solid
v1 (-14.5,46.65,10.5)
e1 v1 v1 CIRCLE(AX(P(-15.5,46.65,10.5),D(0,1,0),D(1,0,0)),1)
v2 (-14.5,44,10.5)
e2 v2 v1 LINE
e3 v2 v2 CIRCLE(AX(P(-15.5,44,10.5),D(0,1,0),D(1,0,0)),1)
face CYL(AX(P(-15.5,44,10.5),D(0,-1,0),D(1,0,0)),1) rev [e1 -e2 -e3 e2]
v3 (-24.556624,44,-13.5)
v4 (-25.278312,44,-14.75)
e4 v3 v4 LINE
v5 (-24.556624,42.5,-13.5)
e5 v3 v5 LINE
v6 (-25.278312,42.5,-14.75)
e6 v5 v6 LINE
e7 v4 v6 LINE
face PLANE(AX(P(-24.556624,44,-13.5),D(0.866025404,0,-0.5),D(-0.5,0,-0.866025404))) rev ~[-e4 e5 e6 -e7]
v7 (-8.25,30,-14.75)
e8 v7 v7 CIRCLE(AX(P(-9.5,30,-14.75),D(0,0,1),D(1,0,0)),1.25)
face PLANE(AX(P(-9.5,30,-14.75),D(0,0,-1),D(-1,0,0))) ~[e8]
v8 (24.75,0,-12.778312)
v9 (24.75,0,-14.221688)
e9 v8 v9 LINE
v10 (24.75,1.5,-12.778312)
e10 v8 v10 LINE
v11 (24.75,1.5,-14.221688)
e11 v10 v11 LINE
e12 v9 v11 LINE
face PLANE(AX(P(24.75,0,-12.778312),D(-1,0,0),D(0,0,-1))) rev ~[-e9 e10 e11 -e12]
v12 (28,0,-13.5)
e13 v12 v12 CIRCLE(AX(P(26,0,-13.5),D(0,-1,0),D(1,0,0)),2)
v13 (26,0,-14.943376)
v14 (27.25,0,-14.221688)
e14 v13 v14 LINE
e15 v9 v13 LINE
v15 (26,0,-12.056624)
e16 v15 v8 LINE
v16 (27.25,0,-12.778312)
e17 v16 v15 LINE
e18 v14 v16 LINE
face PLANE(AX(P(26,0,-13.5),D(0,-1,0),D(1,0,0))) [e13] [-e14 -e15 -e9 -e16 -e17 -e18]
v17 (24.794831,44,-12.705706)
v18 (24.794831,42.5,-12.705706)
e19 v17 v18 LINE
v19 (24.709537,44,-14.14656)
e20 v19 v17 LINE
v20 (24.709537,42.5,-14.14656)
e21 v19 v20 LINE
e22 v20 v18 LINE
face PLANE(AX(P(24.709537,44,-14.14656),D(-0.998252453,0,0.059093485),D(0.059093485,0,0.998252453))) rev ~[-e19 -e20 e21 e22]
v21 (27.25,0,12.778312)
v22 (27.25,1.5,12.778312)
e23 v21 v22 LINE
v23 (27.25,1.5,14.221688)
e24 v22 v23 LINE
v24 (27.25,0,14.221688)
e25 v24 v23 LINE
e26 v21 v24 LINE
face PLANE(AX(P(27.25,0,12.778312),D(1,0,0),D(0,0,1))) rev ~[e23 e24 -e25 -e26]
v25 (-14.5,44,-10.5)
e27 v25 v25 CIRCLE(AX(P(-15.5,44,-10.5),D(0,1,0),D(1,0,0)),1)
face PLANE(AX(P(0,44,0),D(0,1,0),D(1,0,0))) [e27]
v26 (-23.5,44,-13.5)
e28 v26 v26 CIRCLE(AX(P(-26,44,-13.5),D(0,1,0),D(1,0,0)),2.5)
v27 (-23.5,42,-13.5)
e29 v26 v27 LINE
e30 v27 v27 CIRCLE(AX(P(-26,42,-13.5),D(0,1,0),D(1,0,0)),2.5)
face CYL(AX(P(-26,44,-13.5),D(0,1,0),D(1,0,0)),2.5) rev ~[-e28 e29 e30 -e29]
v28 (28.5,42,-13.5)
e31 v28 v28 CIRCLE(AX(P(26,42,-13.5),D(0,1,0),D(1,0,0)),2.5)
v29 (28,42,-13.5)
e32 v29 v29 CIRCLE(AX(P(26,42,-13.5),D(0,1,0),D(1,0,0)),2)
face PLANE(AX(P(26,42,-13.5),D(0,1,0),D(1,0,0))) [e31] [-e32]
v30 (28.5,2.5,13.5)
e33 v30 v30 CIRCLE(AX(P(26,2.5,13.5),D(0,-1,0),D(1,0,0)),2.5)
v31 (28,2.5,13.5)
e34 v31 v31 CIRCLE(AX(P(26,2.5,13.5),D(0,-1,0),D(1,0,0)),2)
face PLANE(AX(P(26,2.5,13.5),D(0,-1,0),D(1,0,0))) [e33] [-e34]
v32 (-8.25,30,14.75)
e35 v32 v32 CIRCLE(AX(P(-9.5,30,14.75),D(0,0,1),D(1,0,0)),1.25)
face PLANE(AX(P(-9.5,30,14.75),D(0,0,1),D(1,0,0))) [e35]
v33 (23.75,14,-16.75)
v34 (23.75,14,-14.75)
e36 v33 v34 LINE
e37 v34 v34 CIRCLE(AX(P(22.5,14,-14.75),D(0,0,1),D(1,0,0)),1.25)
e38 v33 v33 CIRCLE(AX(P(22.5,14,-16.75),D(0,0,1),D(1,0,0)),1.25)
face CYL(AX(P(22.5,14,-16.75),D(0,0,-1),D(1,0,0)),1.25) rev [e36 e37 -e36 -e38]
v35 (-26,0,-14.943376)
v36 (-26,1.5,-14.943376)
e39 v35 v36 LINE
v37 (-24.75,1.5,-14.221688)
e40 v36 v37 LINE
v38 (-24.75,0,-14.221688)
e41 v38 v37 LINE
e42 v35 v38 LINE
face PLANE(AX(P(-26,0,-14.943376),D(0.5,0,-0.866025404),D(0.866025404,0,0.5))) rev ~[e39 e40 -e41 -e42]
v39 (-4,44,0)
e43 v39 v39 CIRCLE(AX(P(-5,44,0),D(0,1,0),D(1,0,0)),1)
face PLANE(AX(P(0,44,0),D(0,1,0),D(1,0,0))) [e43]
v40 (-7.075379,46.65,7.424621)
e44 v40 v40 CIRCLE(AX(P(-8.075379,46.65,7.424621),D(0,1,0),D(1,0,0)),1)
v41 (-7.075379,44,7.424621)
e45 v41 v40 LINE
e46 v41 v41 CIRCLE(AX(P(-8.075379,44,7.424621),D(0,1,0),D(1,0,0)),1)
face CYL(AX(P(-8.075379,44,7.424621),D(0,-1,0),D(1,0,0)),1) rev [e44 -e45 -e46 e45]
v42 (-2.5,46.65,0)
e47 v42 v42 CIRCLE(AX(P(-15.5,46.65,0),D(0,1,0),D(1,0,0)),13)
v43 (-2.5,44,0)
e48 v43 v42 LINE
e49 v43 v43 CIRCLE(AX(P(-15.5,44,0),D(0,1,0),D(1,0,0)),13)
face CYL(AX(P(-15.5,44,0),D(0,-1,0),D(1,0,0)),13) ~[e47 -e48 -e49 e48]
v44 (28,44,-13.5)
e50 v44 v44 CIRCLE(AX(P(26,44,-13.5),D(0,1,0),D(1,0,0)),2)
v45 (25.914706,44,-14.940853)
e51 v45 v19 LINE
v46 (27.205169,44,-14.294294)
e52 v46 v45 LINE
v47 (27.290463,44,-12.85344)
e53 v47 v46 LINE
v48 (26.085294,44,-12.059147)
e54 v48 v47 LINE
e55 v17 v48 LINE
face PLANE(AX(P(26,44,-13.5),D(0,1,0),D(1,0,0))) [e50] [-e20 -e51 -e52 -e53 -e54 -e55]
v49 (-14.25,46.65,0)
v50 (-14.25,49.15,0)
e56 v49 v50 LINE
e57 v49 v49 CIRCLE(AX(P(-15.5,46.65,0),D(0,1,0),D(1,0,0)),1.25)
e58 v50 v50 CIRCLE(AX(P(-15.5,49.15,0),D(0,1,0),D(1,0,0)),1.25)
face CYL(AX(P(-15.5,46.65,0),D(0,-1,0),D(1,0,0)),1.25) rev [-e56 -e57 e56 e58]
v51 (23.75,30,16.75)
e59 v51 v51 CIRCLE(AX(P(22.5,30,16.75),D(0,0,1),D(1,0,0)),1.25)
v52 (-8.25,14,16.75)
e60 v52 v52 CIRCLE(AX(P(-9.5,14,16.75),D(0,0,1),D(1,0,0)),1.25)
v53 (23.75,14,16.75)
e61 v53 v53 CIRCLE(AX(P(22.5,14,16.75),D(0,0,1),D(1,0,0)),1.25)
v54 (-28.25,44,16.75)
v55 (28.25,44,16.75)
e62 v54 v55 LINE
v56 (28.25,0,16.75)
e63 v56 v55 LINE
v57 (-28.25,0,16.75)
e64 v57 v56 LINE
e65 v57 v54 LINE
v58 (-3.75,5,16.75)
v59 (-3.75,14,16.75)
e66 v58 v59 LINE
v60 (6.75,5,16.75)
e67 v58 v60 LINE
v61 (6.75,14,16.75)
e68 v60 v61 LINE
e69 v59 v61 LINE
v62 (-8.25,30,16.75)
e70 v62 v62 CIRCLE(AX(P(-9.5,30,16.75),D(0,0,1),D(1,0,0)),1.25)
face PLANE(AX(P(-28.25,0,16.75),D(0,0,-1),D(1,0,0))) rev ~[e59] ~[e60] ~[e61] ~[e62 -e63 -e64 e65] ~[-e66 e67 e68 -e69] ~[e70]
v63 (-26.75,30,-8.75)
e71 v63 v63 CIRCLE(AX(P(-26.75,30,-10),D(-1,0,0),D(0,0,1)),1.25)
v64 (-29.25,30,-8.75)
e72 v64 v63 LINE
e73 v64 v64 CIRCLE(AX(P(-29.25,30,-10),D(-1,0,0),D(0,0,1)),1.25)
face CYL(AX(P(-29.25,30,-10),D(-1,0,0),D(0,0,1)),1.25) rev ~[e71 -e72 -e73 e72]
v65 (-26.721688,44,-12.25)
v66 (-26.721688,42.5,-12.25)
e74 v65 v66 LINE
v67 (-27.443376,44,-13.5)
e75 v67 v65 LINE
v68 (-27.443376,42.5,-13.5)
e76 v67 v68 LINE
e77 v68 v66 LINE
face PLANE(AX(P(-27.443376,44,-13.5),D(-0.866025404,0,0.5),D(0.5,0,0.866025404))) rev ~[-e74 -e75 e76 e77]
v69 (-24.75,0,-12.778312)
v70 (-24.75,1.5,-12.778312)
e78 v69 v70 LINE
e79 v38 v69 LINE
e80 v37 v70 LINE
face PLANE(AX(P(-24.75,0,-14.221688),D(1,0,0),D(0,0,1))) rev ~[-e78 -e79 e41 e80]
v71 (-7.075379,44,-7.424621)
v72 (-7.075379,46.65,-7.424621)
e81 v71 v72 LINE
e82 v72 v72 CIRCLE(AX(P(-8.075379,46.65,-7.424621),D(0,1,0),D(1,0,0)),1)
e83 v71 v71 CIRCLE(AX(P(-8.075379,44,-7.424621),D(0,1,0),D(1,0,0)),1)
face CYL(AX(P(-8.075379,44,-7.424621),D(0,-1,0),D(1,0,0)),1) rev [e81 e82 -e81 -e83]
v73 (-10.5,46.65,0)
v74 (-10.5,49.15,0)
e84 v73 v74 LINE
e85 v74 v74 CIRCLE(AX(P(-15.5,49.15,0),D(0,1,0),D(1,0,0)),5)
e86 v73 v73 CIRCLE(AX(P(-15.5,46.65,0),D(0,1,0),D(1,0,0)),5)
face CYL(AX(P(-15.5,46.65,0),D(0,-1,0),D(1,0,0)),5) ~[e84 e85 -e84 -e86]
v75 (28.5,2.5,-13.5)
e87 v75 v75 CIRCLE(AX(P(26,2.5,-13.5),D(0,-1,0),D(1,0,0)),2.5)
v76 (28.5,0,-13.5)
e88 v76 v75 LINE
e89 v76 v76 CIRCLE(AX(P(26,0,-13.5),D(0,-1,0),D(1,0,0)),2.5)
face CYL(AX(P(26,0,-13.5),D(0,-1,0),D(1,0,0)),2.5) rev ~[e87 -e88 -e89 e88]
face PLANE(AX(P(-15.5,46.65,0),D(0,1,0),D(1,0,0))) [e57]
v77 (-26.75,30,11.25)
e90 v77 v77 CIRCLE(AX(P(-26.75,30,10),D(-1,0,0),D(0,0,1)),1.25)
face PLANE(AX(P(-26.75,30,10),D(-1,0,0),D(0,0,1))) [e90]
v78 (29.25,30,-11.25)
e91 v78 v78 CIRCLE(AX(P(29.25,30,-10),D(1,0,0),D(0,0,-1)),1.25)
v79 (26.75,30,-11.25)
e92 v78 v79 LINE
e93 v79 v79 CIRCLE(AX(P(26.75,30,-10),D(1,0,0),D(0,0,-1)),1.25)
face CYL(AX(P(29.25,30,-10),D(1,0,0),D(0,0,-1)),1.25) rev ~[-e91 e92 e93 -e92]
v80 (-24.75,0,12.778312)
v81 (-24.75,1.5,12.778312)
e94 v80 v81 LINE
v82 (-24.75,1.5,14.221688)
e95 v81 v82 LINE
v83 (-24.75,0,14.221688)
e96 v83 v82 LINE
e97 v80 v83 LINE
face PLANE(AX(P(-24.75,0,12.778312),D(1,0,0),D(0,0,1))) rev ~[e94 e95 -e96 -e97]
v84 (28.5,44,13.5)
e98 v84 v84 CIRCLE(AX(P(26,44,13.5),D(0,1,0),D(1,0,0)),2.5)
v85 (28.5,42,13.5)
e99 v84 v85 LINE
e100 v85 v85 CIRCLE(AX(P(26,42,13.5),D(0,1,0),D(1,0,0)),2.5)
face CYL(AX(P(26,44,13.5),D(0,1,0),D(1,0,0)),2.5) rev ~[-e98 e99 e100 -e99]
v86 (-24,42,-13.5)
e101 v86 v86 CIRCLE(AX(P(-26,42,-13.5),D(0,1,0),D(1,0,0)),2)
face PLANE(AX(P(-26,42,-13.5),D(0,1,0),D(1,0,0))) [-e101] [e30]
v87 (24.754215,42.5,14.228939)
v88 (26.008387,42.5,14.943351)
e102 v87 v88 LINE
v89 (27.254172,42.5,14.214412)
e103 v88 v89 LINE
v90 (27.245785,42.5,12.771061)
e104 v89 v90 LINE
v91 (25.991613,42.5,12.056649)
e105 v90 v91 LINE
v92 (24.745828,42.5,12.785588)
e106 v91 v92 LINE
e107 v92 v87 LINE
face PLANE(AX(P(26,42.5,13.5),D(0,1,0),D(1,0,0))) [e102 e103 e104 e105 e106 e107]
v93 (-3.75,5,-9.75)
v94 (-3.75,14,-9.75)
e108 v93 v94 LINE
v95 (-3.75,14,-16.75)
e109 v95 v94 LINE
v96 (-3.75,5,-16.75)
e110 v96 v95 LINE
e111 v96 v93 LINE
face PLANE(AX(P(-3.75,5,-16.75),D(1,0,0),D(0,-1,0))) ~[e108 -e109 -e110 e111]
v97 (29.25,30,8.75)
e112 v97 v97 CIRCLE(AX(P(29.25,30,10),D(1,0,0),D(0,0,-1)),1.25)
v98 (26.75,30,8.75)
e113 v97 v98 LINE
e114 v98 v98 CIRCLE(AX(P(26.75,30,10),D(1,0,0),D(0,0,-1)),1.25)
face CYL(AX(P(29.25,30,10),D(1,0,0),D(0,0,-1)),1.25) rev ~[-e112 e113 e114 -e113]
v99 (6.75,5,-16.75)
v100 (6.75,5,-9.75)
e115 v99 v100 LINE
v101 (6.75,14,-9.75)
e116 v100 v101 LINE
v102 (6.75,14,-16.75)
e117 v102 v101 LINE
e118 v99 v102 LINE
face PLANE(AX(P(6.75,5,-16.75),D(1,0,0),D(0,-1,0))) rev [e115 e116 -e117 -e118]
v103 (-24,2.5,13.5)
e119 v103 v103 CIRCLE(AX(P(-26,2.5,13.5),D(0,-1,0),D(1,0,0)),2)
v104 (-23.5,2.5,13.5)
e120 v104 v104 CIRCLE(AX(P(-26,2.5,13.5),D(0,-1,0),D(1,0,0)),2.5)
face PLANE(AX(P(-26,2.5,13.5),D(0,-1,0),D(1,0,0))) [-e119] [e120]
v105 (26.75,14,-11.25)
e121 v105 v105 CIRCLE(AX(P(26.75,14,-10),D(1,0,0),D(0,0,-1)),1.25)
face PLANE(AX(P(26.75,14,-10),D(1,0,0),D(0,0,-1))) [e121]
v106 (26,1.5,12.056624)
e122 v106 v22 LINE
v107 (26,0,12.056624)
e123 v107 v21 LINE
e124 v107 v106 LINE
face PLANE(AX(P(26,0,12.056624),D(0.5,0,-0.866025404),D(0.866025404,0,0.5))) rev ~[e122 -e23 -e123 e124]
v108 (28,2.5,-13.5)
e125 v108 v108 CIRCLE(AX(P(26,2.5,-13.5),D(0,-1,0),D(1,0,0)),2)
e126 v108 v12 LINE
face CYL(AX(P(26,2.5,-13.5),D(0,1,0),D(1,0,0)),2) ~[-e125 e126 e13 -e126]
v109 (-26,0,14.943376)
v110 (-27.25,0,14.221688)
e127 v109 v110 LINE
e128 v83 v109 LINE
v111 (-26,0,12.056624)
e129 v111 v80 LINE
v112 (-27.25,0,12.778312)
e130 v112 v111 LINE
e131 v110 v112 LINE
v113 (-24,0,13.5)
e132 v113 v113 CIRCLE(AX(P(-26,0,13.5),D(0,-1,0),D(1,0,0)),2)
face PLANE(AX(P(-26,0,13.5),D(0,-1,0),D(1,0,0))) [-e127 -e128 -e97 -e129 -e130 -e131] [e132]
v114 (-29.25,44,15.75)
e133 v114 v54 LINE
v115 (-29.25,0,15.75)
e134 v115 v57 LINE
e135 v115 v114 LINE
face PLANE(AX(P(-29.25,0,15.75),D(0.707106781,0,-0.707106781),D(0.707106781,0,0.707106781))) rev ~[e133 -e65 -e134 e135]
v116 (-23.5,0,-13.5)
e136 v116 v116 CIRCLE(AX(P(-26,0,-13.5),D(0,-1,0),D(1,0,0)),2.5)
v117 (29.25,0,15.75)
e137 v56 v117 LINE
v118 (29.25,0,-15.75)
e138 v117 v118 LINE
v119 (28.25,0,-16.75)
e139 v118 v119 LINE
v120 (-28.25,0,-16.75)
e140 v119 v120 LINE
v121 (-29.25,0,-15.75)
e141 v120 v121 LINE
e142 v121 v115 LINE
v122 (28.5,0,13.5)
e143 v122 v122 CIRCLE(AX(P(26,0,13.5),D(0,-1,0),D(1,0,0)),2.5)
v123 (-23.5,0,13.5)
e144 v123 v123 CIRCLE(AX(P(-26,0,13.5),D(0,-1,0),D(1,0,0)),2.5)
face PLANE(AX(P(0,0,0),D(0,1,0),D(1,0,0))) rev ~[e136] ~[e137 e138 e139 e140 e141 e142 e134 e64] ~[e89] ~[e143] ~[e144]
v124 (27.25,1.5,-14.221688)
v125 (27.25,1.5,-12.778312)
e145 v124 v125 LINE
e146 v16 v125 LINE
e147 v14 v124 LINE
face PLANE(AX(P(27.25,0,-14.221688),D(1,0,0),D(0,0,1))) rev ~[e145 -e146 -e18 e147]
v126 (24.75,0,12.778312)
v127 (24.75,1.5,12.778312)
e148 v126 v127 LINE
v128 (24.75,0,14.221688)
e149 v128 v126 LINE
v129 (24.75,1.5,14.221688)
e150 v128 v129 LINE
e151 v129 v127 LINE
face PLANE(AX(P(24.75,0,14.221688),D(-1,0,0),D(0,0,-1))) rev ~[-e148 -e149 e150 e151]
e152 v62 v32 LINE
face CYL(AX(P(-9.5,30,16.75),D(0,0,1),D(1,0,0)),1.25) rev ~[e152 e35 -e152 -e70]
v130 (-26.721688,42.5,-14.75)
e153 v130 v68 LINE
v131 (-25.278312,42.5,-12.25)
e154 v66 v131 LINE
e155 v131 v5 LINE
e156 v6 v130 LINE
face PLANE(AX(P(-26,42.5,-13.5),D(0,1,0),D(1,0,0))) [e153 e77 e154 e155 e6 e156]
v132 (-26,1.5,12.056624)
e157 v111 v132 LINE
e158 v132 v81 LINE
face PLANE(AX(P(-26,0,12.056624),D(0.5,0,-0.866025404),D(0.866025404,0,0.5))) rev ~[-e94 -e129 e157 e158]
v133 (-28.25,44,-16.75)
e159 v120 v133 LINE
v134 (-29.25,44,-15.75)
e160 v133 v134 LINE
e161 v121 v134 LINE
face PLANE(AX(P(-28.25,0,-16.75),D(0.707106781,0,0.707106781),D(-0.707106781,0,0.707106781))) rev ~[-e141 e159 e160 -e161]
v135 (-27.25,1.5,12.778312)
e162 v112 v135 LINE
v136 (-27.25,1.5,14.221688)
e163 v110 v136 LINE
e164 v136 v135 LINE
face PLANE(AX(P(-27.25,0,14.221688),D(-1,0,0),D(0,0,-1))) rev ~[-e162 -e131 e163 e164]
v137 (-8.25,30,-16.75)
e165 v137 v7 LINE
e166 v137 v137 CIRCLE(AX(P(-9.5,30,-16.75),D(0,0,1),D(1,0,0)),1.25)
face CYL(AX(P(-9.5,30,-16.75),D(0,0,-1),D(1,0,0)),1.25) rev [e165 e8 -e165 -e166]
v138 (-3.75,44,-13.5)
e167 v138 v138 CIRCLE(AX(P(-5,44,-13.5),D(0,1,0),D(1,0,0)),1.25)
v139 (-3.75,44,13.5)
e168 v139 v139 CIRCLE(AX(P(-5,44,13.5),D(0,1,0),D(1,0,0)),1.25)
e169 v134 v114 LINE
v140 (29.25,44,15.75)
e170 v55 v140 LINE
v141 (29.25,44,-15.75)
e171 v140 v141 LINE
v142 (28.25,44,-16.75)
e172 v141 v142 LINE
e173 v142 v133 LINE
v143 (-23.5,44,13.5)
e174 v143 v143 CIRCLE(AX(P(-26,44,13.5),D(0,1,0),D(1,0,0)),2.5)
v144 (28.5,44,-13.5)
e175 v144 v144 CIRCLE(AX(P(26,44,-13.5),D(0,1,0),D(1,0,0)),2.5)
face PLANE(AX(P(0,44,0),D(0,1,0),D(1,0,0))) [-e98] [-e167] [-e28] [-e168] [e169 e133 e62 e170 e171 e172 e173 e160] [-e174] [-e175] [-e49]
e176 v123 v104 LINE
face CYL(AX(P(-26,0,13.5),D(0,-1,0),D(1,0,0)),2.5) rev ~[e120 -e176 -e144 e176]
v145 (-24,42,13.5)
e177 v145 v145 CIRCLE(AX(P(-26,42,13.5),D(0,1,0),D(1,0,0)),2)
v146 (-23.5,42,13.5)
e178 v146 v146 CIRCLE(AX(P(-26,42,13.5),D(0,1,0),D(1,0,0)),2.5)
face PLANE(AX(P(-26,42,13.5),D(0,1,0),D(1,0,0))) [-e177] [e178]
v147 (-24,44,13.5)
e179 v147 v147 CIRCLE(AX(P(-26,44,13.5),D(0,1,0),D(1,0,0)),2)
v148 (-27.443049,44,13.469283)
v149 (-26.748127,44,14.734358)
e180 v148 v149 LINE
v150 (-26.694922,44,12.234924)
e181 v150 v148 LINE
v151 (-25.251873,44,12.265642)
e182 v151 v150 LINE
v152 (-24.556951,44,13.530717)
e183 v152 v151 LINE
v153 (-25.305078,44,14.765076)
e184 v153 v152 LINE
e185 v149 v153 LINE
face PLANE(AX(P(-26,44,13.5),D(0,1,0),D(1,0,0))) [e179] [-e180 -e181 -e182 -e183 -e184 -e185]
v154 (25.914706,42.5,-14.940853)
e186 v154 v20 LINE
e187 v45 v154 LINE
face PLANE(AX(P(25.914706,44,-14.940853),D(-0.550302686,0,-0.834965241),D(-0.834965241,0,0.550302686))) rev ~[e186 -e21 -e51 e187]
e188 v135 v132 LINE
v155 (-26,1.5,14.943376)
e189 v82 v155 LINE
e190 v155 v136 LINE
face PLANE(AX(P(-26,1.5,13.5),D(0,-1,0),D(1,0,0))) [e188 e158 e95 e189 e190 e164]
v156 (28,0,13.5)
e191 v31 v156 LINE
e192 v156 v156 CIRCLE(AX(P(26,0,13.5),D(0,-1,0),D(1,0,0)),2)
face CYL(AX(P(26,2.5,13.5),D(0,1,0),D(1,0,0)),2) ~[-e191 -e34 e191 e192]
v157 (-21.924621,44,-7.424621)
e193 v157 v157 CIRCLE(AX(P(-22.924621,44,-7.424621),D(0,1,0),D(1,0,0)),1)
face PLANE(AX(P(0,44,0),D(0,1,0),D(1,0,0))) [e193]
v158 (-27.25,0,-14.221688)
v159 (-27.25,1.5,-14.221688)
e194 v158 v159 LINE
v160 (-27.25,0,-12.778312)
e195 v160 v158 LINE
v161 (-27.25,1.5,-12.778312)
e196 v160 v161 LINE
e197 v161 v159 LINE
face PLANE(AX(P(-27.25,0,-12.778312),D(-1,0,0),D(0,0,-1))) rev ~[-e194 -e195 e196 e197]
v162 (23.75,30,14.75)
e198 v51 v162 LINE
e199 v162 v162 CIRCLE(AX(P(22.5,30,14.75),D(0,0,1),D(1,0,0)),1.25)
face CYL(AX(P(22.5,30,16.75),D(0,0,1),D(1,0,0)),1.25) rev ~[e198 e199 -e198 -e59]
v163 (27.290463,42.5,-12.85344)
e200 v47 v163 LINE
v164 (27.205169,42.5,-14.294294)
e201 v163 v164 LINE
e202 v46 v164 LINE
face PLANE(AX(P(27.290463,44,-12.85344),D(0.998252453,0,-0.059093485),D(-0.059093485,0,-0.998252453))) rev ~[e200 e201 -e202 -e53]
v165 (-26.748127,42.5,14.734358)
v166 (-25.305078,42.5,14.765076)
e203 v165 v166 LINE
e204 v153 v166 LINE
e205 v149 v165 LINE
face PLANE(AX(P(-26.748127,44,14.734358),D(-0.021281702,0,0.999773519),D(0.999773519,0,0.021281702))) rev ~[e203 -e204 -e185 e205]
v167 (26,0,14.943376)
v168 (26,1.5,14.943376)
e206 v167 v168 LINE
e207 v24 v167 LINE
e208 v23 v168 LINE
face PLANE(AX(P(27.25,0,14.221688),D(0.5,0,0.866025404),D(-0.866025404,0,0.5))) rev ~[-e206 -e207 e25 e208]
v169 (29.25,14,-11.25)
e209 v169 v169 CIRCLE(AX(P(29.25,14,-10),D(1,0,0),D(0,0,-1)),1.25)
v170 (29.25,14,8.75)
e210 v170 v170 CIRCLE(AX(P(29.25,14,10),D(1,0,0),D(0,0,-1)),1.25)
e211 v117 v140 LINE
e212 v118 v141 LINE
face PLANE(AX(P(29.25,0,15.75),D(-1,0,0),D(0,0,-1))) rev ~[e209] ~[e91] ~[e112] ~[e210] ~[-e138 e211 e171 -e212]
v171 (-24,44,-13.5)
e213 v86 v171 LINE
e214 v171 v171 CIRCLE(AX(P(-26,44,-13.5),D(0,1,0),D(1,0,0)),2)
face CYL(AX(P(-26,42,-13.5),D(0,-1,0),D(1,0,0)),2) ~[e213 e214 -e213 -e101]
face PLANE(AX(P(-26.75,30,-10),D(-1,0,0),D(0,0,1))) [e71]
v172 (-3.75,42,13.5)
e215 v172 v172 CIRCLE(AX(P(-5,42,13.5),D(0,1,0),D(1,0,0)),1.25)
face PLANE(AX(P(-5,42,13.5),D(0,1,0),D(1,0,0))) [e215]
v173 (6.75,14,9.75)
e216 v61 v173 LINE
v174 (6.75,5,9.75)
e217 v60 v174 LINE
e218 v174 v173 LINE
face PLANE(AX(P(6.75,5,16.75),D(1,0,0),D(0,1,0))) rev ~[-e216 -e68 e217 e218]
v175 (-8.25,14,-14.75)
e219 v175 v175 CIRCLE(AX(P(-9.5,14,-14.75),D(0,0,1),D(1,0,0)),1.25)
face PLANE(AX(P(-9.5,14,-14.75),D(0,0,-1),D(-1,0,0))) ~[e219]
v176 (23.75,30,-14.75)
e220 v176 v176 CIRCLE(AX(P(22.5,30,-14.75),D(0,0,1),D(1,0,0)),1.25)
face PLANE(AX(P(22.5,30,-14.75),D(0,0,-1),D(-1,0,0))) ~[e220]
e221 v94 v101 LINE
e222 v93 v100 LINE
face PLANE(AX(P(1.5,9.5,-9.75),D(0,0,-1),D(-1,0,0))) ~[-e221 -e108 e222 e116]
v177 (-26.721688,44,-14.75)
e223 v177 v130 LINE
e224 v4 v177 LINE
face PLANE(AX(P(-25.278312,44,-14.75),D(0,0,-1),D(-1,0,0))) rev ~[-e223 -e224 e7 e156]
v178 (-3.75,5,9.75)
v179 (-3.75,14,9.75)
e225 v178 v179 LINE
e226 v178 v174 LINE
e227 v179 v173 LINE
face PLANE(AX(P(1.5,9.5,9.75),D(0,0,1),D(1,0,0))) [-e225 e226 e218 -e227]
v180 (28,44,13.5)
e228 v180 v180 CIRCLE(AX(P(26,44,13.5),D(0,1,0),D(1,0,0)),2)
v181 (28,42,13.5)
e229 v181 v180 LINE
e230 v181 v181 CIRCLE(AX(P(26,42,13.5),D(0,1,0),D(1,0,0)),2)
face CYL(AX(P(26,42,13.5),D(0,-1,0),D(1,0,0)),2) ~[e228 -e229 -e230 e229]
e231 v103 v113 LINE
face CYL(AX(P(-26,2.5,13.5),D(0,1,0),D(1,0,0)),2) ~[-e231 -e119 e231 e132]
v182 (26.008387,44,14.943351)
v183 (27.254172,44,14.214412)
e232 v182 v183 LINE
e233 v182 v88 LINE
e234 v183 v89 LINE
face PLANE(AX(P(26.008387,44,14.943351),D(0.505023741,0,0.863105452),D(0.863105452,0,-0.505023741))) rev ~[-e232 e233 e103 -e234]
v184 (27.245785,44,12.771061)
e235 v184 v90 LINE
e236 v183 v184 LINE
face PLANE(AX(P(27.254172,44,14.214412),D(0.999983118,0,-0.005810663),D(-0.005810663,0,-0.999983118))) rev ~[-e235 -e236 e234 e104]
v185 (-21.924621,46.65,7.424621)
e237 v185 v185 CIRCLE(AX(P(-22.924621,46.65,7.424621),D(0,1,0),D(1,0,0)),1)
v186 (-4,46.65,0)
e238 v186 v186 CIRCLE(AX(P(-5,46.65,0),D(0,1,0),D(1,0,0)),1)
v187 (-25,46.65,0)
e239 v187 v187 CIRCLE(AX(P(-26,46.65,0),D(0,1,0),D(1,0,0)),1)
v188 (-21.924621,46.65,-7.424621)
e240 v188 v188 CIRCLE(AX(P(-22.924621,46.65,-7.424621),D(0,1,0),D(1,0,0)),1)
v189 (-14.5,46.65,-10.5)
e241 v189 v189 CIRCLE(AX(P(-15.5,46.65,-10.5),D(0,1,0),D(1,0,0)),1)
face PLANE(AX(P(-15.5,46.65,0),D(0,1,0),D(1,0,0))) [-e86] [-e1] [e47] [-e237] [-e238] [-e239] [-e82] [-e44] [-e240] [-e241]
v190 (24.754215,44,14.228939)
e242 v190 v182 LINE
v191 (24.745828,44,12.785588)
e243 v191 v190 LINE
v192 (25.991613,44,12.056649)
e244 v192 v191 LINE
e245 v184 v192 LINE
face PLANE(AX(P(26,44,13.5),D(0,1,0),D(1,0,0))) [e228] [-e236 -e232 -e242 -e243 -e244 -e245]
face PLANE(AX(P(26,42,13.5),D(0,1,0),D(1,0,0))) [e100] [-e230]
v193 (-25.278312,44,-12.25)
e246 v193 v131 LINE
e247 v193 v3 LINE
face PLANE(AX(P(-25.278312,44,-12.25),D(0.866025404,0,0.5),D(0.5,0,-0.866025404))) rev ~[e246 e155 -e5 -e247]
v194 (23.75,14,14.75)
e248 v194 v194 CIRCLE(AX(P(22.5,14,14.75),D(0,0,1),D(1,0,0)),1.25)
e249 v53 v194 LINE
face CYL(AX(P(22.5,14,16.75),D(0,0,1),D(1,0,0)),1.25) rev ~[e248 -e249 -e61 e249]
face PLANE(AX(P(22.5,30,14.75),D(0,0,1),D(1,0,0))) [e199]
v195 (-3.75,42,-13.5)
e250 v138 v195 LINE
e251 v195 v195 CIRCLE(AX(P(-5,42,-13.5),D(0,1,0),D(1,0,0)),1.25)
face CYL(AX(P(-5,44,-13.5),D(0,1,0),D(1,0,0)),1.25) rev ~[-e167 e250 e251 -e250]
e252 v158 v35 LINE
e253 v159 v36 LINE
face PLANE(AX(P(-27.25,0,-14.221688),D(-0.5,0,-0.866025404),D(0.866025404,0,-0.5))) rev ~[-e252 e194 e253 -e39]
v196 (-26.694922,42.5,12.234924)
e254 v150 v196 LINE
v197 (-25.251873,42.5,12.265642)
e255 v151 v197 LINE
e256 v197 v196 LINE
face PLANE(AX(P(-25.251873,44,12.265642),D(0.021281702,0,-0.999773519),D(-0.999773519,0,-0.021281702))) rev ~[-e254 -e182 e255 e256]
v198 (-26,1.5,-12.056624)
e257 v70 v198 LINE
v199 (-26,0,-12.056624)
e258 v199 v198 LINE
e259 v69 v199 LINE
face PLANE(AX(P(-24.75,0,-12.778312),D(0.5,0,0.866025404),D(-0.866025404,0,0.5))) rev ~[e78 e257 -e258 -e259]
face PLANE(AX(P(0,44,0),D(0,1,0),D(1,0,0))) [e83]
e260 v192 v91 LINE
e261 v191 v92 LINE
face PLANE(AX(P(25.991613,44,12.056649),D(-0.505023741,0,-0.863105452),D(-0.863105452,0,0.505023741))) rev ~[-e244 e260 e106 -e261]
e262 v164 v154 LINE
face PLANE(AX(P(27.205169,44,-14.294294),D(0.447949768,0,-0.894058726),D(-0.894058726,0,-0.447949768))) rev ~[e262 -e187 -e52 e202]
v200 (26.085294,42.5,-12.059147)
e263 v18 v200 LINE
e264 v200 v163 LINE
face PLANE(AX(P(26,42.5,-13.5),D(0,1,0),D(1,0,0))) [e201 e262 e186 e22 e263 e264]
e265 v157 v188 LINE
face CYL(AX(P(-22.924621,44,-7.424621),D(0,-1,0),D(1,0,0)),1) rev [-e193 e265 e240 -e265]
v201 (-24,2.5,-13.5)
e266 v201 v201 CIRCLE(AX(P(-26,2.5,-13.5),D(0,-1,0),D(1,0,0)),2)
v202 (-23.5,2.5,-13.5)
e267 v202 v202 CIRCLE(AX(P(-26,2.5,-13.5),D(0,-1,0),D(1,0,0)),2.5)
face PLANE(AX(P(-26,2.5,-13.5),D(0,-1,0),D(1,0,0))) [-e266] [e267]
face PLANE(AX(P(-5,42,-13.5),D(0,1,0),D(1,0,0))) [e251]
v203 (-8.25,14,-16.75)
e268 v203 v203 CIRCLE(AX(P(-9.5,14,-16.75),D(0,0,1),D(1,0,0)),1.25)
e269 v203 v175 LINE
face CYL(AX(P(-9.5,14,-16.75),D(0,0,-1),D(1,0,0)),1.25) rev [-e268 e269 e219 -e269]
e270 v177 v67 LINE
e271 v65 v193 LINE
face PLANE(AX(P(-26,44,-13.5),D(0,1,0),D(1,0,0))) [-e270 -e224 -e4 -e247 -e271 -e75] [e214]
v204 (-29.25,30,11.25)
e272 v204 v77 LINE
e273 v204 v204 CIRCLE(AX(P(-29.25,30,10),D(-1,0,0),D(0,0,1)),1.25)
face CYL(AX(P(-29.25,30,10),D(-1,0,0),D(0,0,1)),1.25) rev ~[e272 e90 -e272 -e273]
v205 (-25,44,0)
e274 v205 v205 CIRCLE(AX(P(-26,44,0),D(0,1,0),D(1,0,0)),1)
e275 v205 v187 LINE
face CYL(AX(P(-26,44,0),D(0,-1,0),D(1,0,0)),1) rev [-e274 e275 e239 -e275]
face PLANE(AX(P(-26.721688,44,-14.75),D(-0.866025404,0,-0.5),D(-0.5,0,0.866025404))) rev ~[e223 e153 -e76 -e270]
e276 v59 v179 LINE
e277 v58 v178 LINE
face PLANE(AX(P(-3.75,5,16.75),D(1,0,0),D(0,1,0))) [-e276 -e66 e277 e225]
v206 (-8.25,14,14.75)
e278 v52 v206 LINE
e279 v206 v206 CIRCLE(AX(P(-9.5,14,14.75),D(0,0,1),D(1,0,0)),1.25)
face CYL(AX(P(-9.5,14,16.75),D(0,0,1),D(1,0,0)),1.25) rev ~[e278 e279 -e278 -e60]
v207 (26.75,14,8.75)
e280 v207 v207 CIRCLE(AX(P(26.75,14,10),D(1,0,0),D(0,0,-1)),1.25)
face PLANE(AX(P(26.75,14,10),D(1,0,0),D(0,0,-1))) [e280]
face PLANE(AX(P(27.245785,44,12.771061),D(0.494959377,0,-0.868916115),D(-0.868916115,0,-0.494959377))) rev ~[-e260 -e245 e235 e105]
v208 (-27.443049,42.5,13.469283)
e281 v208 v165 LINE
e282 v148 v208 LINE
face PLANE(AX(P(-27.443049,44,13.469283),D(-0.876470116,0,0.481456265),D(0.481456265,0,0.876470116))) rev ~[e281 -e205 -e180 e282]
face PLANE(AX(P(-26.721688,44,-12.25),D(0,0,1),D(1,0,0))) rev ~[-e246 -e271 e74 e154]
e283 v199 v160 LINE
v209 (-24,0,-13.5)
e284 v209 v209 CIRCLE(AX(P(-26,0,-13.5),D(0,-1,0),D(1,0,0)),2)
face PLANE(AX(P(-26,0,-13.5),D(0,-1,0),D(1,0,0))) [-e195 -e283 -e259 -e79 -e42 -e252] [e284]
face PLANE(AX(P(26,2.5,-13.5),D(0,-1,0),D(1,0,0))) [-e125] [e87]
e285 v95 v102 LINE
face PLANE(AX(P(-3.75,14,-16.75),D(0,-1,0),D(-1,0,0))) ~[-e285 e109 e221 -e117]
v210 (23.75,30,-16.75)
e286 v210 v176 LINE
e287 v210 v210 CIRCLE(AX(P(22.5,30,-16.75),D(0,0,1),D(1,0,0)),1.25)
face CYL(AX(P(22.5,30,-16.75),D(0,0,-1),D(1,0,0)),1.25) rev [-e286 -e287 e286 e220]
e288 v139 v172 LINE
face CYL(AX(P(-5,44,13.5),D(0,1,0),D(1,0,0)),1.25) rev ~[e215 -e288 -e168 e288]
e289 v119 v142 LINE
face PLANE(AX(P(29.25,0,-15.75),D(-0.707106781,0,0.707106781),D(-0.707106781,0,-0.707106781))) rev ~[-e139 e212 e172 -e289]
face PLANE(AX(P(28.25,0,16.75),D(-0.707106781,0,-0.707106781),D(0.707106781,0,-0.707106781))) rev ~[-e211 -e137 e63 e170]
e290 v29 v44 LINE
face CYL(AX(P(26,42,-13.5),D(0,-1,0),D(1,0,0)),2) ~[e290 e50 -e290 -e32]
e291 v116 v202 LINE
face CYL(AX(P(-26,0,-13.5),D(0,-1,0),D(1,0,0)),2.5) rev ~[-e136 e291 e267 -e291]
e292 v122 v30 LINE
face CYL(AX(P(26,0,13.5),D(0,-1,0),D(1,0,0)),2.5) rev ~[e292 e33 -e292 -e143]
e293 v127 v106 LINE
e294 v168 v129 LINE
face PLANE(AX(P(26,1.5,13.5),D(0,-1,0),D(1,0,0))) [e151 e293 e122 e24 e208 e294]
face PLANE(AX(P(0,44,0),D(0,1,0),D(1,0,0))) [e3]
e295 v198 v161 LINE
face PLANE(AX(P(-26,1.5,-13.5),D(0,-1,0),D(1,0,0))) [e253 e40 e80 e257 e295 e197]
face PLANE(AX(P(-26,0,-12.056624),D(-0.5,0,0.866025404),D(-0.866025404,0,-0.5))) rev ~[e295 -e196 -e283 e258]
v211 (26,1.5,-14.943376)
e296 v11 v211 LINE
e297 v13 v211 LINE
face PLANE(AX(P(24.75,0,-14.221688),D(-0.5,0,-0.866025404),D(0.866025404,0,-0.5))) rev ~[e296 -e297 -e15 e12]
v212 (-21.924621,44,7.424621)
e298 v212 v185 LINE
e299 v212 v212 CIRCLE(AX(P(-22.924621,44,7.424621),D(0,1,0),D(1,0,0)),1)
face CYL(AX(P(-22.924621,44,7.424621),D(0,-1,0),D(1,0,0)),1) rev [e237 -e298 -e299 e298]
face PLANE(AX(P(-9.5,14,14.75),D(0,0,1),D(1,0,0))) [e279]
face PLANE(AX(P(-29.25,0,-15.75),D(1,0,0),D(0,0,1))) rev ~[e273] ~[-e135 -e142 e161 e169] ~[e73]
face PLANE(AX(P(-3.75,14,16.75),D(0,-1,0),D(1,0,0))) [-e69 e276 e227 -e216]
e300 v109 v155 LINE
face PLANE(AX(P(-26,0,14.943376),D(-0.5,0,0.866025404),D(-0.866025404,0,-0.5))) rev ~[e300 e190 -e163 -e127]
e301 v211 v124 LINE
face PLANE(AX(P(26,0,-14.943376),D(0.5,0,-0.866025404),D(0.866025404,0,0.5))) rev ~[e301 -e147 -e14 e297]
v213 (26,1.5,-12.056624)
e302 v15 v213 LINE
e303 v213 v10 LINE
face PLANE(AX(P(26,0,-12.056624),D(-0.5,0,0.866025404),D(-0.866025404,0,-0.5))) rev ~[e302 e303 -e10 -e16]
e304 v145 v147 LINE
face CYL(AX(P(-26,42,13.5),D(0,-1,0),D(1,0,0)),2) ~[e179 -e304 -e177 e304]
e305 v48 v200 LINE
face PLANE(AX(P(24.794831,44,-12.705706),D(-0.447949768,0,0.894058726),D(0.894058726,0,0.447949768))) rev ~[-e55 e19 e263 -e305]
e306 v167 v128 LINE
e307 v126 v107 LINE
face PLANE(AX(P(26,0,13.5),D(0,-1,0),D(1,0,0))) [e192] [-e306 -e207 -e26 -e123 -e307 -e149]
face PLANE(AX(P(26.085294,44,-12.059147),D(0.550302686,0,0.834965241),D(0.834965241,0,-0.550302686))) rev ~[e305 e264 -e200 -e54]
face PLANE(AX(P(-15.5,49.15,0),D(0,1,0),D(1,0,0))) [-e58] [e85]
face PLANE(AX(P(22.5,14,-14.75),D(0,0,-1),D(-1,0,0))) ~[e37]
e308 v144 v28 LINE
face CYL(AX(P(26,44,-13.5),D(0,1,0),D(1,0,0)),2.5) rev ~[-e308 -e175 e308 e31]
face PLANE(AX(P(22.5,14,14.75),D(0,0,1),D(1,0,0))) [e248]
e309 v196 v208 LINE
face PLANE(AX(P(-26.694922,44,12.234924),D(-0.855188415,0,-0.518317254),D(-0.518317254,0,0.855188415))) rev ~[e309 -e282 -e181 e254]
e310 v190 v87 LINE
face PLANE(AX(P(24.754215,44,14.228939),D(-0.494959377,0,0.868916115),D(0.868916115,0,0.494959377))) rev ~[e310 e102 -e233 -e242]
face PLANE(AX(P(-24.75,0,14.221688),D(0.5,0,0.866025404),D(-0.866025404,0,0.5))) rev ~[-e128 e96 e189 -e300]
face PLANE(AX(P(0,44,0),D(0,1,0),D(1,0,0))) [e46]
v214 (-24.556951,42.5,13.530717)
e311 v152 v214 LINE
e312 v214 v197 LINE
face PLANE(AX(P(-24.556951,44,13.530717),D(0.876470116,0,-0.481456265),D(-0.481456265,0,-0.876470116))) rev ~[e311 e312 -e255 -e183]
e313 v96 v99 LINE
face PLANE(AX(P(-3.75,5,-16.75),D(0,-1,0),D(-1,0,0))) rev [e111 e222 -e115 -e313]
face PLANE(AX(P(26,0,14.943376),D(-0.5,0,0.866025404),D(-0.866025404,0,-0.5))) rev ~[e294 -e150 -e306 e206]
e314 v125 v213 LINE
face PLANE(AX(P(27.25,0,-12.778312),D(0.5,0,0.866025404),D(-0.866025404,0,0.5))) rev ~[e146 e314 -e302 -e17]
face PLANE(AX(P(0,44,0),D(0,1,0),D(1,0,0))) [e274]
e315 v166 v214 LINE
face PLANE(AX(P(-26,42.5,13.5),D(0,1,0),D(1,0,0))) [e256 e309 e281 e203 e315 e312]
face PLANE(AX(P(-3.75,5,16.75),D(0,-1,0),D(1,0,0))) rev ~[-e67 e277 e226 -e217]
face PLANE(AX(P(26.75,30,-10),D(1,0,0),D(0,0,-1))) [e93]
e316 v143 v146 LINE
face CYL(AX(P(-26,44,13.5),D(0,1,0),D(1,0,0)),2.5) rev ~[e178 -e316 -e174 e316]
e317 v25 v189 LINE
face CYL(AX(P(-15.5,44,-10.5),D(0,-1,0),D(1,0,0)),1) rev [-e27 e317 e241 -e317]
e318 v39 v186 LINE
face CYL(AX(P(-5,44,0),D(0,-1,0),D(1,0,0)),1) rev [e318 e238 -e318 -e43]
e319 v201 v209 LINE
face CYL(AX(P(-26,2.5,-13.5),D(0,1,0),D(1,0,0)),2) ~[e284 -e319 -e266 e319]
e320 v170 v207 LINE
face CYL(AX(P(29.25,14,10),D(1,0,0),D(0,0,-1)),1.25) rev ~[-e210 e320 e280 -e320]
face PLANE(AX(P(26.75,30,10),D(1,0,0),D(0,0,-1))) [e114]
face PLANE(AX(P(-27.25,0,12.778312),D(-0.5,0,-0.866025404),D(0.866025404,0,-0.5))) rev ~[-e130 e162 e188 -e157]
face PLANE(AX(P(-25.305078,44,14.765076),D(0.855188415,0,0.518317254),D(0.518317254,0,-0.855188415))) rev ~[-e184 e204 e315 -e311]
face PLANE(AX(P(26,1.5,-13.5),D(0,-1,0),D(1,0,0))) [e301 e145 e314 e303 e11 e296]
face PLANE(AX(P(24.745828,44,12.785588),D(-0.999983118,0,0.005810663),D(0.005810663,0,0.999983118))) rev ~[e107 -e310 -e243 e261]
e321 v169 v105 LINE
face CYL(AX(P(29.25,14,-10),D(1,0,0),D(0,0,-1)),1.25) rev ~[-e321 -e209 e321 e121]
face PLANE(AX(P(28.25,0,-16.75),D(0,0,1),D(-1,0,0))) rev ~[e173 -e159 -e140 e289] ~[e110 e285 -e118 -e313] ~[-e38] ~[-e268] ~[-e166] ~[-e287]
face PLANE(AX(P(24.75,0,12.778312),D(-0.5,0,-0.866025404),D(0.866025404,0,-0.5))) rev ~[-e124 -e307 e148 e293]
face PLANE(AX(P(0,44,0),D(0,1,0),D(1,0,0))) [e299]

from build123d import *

# Parameters (mm, degrees)
BOSS_EXTRUDE1_DEPTH = 44
SKETCH2_R           = 13
SKETCH2_R_2         = 1
BOSS_EXTRUDE2_DEPTH = 2.65
SKETCH3_R           = 5
SKETCH3_R_2         = 1.25
BOSS_EXTRUDE3_DEPTH = 2.5
SKETCH4_R           = 2.5
SKETCH4_R_2         = 1.25
CUT_EXTRUDE1_DEPTH  = 2
SKETCH5_R           = 1.25
CUT_EXTRUDE2_DEPTH  = 2
SKETCH6_R           = 13
SKETCH6_R_2         = 1.25
BOSS_EXTRUDE4_DEPTH = 2.5
SKETCH7_R           = 2.5
CUT_EXTRUDE3_DEPTH  = 2.5
SKETCH8_R           = 1.25
CUT_EXTRUDE4_DEPTH  = 2.5
SKETCH9_R           = 1.25
CUT_EXTRUDE5_DEPTH  = 2.5
SKETCH10_W          = 10.5
SKETCH10_H          = 9
CUT_EXTRUDE6_DEPTH  = 7
SKETCH11_R          = 13
CUT_EXTRUDE7_DEPTH  = 2.5
SKETCH13_R          = 2
BOSS_EXTRUDE5_DEPTH = 2
CUT_EXTRUDE8_DEPTH  = 1.5
SKETCH15_R          = 2
BOSS_EXTRUDE6_DEPTH = 2.5
CUT_EXTRUDE9_DEPTH  = 1.5


with BuildPart() as part:
    # Sketch1 → Boss-Extrude1 (new body)
    with BuildSketch(Plane(origin=(0, 0, 0), x_dir=(1, 0, 0), z_dir=(0, 1, 0))):
        Polygon((-29.25, -15.75), (-28.25, -16.75), (28.25, -16.75), (29.25, -15.75), (29.25, 15.75), (28.25, 16.75), (-28.25, 16.75), (-29.25, 15.75), align=None)
    extrude(amount=BOSS_EXTRUDE1_DEPTH)

    # Sketch2 → Boss-Extrude2 (add)
    with BuildSketch(Plane(origin=(0, 44, 0), x_dir=(1, 0, 0), z_dir=(0, 1, 0))):
        with Locations((-15.5, 0)):
            Circle(SKETCH2_R)
        with Locations((-15.5, 10.5)):
            Circle(SKETCH2_R_2, mode=Mode.SUBTRACT)
        with Locations((-8.075378798, 7.424621202)):
            Circle(SKETCH2_R_2, mode=Mode.SUBTRACT)
        with Locations((-5, 0)):
            Circle(SKETCH2_R_2, mode=Mode.SUBTRACT)
        with Locations((-8.075378798, -7.424621202)):
            Circle(SKETCH2_R_2, mode=Mode.SUBTRACT)
        with Locations((-15.5, -10.5)):
            Circle(SKETCH2_R_2, mode=Mode.SUBTRACT)
        with Locations((-22.924621202, -7.424621202)):
            Circle(SKETCH2_R_2, mode=Mode.SUBTRACT)
        with Locations((-26, 0)):
            Circle(SKETCH2_R_2, mode=Mode.SUBTRACT)
        with Locations((-22.924621202, 7.424621202)):
            Circle(SKETCH2_R_2, mode=Mode.SUBTRACT)
    extrude(amount=BOSS_EXTRUDE2_DEPTH)

    # Sketch3 → Boss-Extrude3 (add)
    with BuildSketch(Plane(origin=(0, 46.65, 0), x_dir=(1, 0, 0), z_dir=(0, 1, 0))):
        with Locations((-15.5, 0)):
            Circle(SKETCH3_R)
        with Locations((-15.5, 0)):
            Circle(SKETCH3_R_2, mode=Mode.SUBTRACT)
    extrude(amount=BOSS_EXTRUDE3_DEPTH)

    # Sketch4 → Cut-Extrude1 (cut)
    with BuildSketch(Plane(origin=(0, 44, 0), x_dir=(1, 0, 0), z_dir=(0, 1, 0))):
        with Locations((-26, 13.5)):
            Circle(SKETCH4_R)
        with Locations((-26, -13.5)):
            Circle(SKETCH4_R)
        with Locations((26, -13.5)):
            Circle(SKETCH4_R)
        with Locations((26, 13.5)):
            Circle(SKETCH4_R)
        with Locations((-5, 13.5)):
            Circle(SKETCH4_R_2)
        with Locations((-5, -13.5)):
            Circle(SKETCH4_R_2)
    extrude(amount=-CUT_EXTRUDE1_DEPTH, mode=Mode.SUBTRACT)

    # Sketch5 → Cut-Extrude2 (cut)
    with BuildSketch(Plane.XY.offset(16.75)):
        with Locations((-9.5, 30)):
            Circle(SKETCH5_R)
        with Locations((-9.5, 14)):
            Circle(SKETCH5_R)
        with Locations((22.5, 30)):
            Circle(SKETCH5_R)
        with Locations((22.5, 14)):
            Circle(SKETCH5_R)
    cut_extrude2 = extrude(amount=-CUT_EXTRUDE2_DEPTH, mode=Mode.SUBTRACT)

    # Sketch6 → Boss-Extrude4 (add)
    with BuildSketch(Plane.XZ):
        with Locations((-15.5, 0)):
            Circle(SKETCH6_R)
        with Locations((-5, 0)):
            Circle(SKETCH6_R_2, mode=Mode.SUBTRACT)
        with Locations((-8.075378798, -7.424621202)):
            Circle(SKETCH6_R_2, mode=Mode.SUBTRACT)
        with Locations((-15.5, -10.5)):
            Circle(SKETCH6_R_2, mode=Mode.SUBTRACT)
        with Locations((-22.924621202, -7.424621202)):
            Circle(SKETCH6_R_2, mode=Mode.SUBTRACT)
        with Locations((-26, 0)):
            Circle(SKETCH6_R_2, mode=Mode.SUBTRACT)
        with Locations((-22.924621202, 7.424621202)):
            Circle(SKETCH6_R_2, mode=Mode.SUBTRACT)
        with Locations((-15.5, 10.5)):
            Circle(SKETCH6_R_2, mode=Mode.SUBTRACT)
        with Locations((-8.075378798, 7.424621202)):
            Circle(SKETCH6_R_2, mode=Mode.SUBTRACT)
    extrude(amount=BOSS_EXTRUDE4_DEPTH)

    # Sketch7 → Cut-Extrude3 (cut)
    with BuildSketch(Plane.XZ):
        with Locations((-26, 13.5)):
            Circle(SKETCH7_R)
        with Locations((-26, -13.5)):
            Circle(SKETCH7_R)
        with Locations((26, -13.5)):
            Circle(SKETCH7_R)
        with Locations((26, 13.5)):
            Circle(SKETCH7_R)
    extrude(amount=-CUT_EXTRUDE3_DEPTH, mode=Mode.SUBTRACT)

    # Sketch8 → Cut-Extrude4 (cut)
    with BuildSketch(Plane(origin=(29.25, 0, 0), x_dir=(0, 0, -1), z_dir=(1, 0, 0))):
        with Locations((-10, 14)):
            Circle(SKETCH8_R)
        with Locations((10, 14)):
            Circle(SKETCH8_R)
        with Locations((10, 30)):
            Circle(SKETCH8_R)
        with Locations((-10, 30)):
            Circle(SKETCH8_R)
    extrude(amount=-CUT_EXTRUDE4_DEPTH, mode=Mode.SUBTRACT)

    # Sketch9 → Cut-Extrude5 (cut)
    with BuildSketch(Plane.ZY.offset(29.25)):
        with Locations((-10, 30)):
            Circle(SKETCH9_R)
        with Locations((10, 30)):
            Circle(SKETCH9_R)
    extrude(amount=-CUT_EXTRUDE5_DEPTH, mode=Mode.SUBTRACT)

    # Sketch10 → Cut-Extrude6 (cut)
    with BuildSketch(Plane.XY.offset(16.75)):
        with Locations((1.5, 9.5)):
            Rectangle(SKETCH10_W, SKETCH10_H)
    cut_extrude6 = extrude(amount=-CUT_EXTRUDE6_DEPTH, mode=Mode.SUBTRACT)

    # Mirror1: Cut-Extrude6 across plane
    add(cut_extrude6.mirror(Plane.XY), mode=Mode.SUBTRACT)

    # Mirror2: Cut-Extrude2 across plane
    add(cut_extrude2.mirror(Plane.XY), mode=Mode.SUBTRACT)

    # Sketch11 → Cut-Extrude7 (cut)
    with BuildSketch(Plane.XZ.offset(2.5)):
        with Locations((-15.5, 0)):
            Circle(SKETCH11_R)
    extrude(amount=-CUT_EXTRUDE7_DEPTH, mode=Mode.SUBTRACT)

    # Sketch13 → Boss-Extrude5 (add)
    with BuildSketch(Plane(origin=(0, 42, 0), x_dir=(1, 0, 0), z_dir=(0, 1, 0))):
        with Locations((-26, 13.5)):
            Circle(SKETCH13_R)
        with Locations((-26, -13.5)):
            Circle(SKETCH13_R)
        with Locations((26, 13.5)):
            Circle(SKETCH13_R)
        with Locations((26, -13.5)):
            Circle(SKETCH13_R)
    extrude(amount=BOSS_EXTRUDE5_DEPTH)

    # Sketch14 → Cut-Extrude8 (cut)
    with BuildSketch(Plane(origin=(0, 44, 0), x_dir=(1, 0, 0), z_dir=(0, 1, 0))):
        Polygon((-27.443375673, 13.5), (-26.721687836, 12.25), (-25.278312164, 12.25), (-24.556624327, 13.5), (-25.278312164, 14.75), (-26.721687836, 14.75), align=None)
        Polygon((24.709537385, 14.146559797), (24.794831483, 12.705706491), (26.085294098, 12.059146694), (27.290462615, 12.853440203), (27.205168517, 14.294293509), (25.914705902, 14.940853306), align=None)
        Polygon((-26.694922261, -12.234924356), (-27.443048776, -13.469282509), (-26.748126515, -14.734358153), (-25.305077739, -14.765075644), (-24.556951224, -13.530717491), (-25.251873485, -12.265641847), align=None)
        Polygon((24.754214587, -14.228938982), (26.00838697, -14.943351306), (27.254172382, -14.214412324), (27.245785413, -12.771061018), (25.99161303, -12.056648694), (24.745827618, -12.785587676), align=None)
    extrude(amount=-CUT_EXTRUDE8_DEPTH, mode=Mode.SUBTRACT)

    # Sketch15 → Boss-Extrude6 (add)
    with BuildSketch(Plane.XZ.offset(-2.5)):
        with Locations((-26, 13.5)):
            Circle(SKETCH15_R)
        with Locations((26, 13.5)):
            Circle(SKETCH15_R)
        with Locations((-26, -13.5)):
            Circle(SKETCH15_R)
        with Locations((26, -13.5)):
            Circle(SKETCH15_R)
    extrude(amount=BOSS_EXTRUDE6_DEPTH)

    # Sketch16 → Cut-Extrude9 (cut)
    with BuildSketch(Plane.XZ):
        Polygon((-26, 12.056624327), (-24.75, 12.778312164), (-24.75, 14.221687836), (-26, 14.943375673), (-27.25, 14.221687836), (-27.25, 12.778312164), align=None)
        Polygon((26, 12.056624327), (27.25, 12.778312164), (27.25, 14.221687836), (26, 14.943375673), (24.75, 14.221687836), (24.75, 12.778312164), align=None)
        Polygon((26, -14.943375673), (27.25, -14.221687836), (27.25, -12.778312164), (26, -12.056624327), (24.75, -12.778312164), (24.75, -14.221687836), align=None)
        Polygon((-26, -14.943375673), (-24.75, -14.221687836), (-24.75, -12.778312164), (-26, -12.056624327), (-27.25, -12.778312164), (-27.25, -14.221687836), align=None)
    extrude(amount=-CUT_EXTRUDE9_DEPTH, mode=Mode.SUBTRACT)


solid = part.part
